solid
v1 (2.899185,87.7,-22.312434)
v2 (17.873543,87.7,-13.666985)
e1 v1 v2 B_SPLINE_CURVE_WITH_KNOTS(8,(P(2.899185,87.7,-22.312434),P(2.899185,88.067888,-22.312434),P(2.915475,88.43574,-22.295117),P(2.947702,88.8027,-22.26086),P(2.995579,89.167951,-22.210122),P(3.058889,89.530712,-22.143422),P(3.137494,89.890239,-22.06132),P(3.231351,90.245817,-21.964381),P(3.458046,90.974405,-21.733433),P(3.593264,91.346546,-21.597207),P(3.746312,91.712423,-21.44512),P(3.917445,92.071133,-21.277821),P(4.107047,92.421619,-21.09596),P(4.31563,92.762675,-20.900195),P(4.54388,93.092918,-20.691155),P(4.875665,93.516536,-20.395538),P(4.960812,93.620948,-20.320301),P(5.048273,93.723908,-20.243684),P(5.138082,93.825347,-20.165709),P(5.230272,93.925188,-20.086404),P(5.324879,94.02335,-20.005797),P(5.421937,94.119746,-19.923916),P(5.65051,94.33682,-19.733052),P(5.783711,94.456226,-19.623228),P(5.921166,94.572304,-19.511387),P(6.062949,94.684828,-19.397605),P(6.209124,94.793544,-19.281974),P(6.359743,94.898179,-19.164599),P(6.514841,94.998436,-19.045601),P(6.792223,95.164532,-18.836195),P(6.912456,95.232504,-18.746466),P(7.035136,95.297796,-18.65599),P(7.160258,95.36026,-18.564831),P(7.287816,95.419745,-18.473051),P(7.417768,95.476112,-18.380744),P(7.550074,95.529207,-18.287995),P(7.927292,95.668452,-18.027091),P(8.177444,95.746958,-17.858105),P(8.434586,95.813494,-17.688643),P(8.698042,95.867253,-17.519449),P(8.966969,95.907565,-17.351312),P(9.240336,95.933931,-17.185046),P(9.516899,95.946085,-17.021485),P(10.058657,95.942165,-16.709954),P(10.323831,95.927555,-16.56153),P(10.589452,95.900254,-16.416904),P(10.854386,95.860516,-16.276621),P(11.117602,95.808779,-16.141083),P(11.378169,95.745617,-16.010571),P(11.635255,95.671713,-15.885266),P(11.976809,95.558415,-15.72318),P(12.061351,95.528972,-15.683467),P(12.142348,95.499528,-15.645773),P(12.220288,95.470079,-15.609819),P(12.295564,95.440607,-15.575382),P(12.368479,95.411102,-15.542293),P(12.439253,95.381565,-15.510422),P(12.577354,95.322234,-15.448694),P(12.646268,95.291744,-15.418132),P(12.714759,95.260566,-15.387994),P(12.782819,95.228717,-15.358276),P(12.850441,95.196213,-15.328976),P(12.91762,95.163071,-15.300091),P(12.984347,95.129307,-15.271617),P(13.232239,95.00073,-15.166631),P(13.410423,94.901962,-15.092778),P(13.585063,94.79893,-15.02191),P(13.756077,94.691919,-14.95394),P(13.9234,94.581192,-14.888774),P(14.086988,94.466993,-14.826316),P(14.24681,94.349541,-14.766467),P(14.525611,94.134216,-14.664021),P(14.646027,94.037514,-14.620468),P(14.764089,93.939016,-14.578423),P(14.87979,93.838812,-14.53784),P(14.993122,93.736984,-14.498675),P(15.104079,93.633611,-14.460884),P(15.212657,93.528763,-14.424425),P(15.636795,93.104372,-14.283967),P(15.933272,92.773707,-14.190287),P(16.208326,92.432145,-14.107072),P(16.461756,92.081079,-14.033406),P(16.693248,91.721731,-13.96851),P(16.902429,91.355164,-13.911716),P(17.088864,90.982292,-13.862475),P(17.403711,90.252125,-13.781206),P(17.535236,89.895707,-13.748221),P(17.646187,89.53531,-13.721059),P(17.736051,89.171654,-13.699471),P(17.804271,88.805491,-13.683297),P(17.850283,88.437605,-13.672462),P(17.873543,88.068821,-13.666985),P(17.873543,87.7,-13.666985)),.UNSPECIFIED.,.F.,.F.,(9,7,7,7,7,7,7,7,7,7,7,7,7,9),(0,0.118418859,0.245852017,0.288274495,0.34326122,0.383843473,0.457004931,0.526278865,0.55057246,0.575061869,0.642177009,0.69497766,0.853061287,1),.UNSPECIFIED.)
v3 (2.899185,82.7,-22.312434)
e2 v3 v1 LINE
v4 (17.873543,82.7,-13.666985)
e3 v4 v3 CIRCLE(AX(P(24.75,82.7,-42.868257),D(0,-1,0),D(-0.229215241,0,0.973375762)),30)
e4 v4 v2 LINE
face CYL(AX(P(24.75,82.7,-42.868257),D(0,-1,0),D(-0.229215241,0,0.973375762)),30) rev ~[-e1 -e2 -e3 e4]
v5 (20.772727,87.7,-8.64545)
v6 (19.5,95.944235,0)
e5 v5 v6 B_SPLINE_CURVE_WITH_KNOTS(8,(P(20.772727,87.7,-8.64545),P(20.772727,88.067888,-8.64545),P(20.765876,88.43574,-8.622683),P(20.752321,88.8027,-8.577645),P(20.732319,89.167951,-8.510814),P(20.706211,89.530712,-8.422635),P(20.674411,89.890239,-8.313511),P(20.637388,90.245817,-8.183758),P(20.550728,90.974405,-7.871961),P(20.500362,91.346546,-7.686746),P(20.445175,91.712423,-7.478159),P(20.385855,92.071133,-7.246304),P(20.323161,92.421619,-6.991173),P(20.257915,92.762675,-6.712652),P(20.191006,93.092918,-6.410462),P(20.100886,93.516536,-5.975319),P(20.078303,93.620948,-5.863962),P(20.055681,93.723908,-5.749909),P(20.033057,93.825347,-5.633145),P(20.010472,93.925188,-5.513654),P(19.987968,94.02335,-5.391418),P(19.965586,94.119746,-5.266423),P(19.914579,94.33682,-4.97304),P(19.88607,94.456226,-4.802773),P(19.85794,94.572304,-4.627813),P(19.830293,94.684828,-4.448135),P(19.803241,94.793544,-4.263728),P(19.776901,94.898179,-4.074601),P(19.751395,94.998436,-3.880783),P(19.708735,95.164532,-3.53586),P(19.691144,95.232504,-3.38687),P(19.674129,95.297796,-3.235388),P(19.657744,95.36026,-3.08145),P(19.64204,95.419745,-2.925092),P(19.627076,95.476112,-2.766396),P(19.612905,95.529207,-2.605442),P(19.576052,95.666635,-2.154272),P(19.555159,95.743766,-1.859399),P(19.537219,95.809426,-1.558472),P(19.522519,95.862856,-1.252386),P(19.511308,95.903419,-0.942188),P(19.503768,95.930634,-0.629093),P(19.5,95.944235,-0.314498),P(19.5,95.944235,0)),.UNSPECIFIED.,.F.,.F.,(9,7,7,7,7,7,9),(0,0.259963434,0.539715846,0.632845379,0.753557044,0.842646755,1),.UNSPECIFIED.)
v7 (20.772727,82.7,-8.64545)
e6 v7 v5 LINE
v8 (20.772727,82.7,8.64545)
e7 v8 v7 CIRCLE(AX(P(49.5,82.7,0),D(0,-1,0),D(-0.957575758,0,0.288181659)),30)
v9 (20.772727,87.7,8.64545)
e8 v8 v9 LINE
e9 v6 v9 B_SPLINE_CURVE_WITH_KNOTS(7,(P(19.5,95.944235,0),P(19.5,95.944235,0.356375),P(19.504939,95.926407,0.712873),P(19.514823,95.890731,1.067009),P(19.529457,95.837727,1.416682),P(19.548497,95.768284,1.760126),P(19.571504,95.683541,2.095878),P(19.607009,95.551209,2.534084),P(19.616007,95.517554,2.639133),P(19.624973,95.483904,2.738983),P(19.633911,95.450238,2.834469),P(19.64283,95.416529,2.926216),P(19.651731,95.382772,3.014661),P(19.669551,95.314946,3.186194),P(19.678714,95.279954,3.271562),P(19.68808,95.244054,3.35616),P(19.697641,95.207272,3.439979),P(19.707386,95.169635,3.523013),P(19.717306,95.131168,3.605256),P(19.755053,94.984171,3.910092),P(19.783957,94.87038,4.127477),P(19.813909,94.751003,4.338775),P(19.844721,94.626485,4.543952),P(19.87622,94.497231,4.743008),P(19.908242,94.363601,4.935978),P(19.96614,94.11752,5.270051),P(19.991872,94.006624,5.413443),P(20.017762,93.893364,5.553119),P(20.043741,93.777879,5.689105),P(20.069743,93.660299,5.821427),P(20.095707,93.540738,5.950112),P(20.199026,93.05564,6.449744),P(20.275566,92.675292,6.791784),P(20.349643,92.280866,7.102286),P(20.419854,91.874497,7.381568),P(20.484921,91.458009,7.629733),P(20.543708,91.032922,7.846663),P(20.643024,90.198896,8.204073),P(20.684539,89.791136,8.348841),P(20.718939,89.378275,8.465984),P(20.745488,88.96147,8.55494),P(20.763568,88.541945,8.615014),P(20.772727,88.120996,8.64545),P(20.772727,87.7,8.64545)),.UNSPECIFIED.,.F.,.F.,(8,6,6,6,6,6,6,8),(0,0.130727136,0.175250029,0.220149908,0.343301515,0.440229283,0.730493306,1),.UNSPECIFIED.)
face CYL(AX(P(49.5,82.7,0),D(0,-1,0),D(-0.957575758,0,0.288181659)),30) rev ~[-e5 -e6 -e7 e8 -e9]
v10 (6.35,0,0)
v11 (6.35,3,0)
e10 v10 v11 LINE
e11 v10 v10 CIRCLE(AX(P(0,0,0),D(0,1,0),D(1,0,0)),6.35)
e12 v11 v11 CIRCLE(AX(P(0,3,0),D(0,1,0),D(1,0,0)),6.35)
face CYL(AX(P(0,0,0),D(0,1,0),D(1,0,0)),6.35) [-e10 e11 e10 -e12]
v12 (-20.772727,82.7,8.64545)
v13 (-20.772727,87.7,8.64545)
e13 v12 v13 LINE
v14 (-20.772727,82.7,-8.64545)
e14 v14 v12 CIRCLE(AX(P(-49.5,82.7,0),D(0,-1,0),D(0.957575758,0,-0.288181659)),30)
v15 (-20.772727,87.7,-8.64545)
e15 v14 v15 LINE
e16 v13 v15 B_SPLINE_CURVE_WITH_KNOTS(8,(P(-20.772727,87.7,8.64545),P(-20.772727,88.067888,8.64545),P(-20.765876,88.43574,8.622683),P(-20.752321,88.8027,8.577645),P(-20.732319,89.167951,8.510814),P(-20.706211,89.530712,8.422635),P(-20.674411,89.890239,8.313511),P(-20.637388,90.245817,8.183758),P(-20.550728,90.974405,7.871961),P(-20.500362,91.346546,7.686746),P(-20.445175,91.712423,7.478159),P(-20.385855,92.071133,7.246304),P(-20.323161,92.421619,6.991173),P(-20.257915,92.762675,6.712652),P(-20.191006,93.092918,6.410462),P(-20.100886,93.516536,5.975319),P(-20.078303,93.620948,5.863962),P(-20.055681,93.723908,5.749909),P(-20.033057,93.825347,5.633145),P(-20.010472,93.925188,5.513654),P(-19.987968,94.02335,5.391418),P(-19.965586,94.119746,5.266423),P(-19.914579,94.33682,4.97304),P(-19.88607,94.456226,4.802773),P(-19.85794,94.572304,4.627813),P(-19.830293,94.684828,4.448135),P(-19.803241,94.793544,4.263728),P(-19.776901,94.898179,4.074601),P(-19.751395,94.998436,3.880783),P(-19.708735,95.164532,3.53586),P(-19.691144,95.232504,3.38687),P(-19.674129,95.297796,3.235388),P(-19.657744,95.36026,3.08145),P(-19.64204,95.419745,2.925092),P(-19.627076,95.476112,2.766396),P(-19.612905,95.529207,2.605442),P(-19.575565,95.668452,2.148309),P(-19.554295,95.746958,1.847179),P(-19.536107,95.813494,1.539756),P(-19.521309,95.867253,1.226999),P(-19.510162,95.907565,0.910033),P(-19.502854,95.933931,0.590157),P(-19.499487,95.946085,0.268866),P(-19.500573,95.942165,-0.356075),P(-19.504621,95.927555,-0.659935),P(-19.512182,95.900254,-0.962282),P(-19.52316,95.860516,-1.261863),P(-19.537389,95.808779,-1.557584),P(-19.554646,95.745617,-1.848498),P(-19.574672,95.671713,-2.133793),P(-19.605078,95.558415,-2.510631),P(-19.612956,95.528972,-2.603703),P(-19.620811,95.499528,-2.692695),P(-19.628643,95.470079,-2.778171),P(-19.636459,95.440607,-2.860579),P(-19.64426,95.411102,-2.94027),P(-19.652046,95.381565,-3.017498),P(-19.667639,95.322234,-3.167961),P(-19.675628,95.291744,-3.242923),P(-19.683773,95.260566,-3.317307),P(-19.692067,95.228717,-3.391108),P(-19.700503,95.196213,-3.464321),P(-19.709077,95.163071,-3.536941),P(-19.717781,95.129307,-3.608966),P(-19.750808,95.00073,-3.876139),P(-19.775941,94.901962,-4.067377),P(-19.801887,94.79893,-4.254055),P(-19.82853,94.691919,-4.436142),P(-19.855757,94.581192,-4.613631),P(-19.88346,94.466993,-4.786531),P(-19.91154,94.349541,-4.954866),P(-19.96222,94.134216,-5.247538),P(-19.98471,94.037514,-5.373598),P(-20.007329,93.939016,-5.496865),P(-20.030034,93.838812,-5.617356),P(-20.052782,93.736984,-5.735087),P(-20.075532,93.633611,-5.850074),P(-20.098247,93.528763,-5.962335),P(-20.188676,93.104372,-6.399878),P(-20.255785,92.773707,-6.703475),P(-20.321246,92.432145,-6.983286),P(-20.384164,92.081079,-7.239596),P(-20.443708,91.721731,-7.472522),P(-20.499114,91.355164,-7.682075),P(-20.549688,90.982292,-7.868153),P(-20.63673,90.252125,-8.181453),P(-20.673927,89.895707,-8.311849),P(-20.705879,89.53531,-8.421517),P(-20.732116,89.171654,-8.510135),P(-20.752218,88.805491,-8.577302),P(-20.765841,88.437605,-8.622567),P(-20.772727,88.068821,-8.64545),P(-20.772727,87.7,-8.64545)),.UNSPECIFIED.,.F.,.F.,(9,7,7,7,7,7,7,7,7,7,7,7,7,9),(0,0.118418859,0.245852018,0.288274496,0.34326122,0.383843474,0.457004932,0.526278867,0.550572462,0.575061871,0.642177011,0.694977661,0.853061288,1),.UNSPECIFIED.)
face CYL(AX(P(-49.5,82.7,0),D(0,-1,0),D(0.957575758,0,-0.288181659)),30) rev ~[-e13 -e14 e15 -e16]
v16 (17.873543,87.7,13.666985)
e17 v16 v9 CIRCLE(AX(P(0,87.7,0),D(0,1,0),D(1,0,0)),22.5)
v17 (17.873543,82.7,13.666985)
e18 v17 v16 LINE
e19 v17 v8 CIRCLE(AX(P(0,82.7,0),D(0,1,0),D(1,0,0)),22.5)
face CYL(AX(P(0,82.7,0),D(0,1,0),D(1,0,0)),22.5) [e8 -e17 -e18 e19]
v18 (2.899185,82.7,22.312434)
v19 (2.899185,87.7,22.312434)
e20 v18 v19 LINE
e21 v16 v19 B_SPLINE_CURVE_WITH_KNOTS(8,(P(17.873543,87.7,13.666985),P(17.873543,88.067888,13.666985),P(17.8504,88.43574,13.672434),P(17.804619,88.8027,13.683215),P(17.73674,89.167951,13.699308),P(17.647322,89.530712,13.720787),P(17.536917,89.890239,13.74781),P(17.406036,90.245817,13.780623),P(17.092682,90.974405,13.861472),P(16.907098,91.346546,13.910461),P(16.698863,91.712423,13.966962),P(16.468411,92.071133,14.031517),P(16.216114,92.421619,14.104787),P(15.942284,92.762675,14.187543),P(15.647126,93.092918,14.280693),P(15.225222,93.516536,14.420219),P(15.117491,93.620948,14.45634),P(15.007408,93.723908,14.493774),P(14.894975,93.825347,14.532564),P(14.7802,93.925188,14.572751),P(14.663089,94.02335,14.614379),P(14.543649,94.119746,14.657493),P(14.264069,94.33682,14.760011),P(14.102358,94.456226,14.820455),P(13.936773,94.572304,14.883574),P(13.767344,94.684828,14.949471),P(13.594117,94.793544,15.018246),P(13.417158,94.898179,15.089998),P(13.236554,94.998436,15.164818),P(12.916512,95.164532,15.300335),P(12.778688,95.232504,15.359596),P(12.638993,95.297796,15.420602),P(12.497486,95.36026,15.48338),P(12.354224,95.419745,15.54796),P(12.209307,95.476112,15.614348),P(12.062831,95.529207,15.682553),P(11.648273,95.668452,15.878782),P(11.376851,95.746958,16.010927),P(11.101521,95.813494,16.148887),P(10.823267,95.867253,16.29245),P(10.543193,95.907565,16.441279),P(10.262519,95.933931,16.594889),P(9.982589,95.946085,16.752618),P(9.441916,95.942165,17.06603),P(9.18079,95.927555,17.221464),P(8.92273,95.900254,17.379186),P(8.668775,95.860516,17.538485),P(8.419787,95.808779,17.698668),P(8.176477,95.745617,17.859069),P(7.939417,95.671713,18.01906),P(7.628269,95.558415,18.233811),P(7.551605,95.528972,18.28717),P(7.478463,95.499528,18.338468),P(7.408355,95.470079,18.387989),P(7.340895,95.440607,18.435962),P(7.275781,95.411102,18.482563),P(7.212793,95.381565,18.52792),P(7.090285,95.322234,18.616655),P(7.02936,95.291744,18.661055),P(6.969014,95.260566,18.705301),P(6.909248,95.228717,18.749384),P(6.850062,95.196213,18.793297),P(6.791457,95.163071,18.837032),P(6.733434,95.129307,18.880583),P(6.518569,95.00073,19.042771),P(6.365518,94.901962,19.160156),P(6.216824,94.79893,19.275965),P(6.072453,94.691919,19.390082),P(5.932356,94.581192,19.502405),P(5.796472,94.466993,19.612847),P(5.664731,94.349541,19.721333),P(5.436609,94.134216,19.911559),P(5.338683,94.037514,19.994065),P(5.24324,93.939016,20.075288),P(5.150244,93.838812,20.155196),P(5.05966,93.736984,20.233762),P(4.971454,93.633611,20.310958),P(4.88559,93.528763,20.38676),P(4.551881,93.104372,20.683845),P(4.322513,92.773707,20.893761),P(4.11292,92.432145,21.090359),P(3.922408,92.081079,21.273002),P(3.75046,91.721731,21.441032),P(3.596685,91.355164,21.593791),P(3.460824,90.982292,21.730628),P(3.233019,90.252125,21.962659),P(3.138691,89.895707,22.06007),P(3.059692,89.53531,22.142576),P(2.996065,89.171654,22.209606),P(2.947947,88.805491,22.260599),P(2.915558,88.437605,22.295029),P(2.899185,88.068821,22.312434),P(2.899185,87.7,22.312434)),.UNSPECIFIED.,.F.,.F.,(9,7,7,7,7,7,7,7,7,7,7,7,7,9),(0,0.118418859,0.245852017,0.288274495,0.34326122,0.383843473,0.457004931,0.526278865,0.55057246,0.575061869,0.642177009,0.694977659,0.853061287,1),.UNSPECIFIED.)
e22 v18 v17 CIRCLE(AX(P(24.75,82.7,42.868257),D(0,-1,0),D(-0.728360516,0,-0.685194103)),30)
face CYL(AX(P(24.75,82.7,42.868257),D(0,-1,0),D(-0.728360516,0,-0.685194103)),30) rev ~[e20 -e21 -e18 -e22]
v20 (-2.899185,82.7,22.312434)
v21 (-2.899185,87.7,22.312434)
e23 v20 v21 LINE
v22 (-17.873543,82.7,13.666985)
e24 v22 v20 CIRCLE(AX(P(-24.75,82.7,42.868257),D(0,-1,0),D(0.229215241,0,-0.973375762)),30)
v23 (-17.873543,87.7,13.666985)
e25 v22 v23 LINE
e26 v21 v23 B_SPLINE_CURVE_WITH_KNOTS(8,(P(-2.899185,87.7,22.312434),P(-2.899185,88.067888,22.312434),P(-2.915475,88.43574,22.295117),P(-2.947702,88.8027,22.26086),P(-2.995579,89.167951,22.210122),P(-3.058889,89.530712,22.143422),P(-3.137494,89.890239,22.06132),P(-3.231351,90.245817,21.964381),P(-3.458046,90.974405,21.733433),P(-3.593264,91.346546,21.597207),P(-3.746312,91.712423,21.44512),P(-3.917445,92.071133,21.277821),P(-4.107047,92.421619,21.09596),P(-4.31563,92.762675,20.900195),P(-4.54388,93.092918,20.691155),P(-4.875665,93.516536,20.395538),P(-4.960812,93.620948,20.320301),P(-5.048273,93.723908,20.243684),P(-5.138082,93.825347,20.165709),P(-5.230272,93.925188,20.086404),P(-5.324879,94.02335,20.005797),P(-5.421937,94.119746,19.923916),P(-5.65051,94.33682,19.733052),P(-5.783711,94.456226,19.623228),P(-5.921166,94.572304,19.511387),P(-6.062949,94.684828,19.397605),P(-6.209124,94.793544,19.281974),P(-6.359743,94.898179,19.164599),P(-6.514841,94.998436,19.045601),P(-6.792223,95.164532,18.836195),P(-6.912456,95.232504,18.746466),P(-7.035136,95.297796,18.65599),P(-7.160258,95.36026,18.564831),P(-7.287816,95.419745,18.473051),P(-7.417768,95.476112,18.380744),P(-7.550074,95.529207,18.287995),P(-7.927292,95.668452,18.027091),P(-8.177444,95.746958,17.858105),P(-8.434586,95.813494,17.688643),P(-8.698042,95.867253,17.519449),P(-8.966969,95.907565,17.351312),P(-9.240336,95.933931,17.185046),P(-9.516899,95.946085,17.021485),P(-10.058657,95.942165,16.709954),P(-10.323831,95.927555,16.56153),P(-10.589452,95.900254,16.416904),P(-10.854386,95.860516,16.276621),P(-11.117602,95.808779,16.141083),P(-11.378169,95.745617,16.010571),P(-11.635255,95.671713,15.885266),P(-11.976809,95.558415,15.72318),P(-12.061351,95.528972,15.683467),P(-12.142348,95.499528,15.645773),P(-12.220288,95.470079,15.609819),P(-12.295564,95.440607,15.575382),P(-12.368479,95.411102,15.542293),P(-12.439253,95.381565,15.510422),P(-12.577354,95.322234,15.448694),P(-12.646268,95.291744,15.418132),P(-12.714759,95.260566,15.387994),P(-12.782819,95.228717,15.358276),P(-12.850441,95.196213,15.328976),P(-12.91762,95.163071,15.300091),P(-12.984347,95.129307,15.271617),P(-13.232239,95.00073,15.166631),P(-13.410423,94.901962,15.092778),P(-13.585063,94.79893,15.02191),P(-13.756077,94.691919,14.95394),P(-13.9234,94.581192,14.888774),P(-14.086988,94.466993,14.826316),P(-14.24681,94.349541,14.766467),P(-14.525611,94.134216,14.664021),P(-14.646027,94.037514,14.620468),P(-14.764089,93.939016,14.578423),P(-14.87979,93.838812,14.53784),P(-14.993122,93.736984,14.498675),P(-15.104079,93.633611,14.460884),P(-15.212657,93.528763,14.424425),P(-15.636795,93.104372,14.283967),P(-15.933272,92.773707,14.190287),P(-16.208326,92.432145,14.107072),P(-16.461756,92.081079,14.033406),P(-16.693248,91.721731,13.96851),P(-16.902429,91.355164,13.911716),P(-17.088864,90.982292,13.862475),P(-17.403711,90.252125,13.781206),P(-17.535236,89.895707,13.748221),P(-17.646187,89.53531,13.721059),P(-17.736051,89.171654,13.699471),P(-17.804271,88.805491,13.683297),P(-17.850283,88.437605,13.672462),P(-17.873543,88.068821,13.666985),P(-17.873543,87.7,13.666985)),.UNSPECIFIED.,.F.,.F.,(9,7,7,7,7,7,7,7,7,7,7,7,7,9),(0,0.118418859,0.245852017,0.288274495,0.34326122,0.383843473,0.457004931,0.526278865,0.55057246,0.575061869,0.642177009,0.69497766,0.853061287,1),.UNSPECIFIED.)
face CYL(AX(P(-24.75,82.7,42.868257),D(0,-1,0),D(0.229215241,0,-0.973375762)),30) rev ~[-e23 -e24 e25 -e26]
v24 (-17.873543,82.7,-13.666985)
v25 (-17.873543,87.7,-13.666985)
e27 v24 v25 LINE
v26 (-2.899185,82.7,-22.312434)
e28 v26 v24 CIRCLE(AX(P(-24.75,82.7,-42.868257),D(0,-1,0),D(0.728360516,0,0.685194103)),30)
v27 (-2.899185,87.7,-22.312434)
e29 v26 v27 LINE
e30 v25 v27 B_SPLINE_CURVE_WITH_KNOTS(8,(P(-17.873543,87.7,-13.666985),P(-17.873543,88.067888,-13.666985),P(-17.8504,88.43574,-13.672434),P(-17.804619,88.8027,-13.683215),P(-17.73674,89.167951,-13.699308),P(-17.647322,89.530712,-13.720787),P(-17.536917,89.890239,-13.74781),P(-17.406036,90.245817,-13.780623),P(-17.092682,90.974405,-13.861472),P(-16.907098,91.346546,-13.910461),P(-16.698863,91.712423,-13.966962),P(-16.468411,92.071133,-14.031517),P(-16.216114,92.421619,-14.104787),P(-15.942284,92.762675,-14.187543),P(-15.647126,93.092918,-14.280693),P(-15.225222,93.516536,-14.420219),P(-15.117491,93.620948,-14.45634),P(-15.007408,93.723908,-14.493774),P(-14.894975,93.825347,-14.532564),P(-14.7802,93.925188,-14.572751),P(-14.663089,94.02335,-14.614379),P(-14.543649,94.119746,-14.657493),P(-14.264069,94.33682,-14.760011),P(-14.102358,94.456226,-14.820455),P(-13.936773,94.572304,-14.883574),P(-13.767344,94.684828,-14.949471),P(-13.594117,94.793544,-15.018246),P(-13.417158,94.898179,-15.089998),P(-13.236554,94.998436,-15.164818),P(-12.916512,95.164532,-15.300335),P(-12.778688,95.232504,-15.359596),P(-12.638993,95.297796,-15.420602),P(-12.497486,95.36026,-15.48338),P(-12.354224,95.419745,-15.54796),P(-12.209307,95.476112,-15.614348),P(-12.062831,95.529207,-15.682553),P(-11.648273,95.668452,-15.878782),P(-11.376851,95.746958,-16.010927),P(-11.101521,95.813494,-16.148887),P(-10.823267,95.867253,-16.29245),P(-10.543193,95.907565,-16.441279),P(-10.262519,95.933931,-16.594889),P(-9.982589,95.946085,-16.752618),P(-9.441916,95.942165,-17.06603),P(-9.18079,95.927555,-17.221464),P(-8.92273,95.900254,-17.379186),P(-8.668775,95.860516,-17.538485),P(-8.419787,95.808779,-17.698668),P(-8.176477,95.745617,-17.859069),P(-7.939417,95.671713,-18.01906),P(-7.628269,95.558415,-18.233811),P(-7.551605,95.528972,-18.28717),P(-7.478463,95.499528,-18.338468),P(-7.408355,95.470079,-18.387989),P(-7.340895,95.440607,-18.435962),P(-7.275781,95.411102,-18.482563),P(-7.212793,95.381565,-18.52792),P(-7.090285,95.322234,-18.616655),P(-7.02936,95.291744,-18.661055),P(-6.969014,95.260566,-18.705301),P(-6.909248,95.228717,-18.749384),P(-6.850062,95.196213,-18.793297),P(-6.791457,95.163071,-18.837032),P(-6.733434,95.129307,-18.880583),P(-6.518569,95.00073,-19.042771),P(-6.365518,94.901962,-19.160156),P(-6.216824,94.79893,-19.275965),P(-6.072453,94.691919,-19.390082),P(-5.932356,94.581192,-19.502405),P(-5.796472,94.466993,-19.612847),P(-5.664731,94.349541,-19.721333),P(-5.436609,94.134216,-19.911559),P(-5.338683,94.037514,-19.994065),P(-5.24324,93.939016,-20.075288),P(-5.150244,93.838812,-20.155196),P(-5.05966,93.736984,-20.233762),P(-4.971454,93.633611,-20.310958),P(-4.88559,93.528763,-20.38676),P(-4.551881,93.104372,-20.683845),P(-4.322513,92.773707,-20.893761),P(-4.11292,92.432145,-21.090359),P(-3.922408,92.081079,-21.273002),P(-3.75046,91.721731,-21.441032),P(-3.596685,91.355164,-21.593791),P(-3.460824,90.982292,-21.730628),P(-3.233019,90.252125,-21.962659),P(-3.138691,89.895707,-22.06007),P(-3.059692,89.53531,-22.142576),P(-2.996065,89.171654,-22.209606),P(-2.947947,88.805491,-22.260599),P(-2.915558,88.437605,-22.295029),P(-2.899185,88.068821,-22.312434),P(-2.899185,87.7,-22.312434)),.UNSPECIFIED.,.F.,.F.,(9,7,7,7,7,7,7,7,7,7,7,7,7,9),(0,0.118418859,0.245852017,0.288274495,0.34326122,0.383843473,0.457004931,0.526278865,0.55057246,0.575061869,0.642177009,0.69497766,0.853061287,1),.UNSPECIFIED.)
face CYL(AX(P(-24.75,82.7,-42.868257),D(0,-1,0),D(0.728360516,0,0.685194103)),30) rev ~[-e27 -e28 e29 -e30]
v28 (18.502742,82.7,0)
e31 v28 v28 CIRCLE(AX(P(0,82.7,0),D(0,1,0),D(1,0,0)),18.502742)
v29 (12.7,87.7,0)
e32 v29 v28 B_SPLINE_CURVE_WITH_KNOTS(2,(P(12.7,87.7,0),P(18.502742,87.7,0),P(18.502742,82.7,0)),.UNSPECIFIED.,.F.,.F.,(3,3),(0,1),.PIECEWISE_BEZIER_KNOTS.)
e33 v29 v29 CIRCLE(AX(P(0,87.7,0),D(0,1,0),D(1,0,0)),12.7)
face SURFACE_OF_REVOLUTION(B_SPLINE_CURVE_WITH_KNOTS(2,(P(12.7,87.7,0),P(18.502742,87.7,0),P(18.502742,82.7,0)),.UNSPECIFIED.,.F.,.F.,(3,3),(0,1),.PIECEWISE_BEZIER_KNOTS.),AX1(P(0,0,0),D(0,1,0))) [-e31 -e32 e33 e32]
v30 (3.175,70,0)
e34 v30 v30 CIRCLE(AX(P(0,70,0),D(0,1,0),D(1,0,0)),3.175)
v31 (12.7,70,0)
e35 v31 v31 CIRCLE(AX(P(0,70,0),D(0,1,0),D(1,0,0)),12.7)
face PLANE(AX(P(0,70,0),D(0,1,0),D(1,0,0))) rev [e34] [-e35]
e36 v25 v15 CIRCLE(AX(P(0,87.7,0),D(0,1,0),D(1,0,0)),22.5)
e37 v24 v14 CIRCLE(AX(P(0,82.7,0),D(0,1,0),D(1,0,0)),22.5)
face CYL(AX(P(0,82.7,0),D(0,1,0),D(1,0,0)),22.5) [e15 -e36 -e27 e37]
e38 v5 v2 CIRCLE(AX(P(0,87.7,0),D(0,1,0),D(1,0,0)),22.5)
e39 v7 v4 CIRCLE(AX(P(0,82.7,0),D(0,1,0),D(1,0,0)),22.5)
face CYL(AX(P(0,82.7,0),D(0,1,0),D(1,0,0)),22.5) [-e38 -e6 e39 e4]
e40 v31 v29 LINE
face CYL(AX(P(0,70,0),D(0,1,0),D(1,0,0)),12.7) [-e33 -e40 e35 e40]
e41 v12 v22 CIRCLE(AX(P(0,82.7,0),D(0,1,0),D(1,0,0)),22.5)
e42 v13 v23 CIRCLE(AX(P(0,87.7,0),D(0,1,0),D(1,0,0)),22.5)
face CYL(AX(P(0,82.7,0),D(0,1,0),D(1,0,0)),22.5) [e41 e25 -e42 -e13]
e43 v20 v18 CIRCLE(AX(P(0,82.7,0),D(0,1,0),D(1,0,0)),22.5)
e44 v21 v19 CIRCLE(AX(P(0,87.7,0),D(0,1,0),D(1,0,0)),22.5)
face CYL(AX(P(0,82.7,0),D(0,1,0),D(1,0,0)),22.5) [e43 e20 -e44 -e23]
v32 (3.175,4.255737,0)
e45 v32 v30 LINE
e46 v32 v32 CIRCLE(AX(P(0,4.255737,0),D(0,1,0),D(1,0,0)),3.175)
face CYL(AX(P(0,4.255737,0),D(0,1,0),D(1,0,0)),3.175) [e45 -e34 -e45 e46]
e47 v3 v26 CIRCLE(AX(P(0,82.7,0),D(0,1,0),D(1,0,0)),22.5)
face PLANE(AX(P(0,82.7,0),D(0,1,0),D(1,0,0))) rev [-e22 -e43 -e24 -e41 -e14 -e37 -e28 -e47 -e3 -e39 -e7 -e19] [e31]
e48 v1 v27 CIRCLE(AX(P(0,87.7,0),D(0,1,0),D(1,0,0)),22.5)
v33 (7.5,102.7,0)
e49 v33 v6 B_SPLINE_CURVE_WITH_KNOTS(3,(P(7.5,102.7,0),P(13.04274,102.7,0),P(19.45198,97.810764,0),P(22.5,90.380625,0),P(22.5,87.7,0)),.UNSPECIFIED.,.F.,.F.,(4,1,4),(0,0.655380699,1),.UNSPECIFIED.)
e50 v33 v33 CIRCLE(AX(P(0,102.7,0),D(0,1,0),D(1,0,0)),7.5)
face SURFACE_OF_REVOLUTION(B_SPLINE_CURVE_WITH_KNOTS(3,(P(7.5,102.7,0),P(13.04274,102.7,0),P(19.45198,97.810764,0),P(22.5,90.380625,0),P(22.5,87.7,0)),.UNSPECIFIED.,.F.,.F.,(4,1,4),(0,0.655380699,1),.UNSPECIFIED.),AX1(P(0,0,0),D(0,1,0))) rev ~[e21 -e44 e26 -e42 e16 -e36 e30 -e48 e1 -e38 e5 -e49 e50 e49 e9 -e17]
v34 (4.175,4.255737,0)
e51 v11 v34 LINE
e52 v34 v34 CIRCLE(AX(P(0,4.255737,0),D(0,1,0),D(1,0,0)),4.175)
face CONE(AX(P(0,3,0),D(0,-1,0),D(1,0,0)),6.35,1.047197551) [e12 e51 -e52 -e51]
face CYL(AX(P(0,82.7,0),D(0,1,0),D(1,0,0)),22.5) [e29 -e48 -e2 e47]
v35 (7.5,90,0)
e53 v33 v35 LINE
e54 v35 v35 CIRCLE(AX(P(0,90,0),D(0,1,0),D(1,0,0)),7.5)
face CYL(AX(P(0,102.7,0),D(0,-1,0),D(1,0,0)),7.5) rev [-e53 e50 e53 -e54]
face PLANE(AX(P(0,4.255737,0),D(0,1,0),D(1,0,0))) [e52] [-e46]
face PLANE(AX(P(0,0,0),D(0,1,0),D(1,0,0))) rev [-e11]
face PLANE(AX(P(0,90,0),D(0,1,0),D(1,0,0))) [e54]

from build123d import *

# Parameters (mm, degrees)
CORTAR_EXTRUIR1_DEPTH = 89.610326763


with BuildPart() as part:
    # Croquis2 → Revolución1 (revolve)
    with BuildSketch(Plane.XY):
        with BuildLine():
            Line((3.175, 70), (12.7, 70))
            Line((12.7, 70), (12.7, 87.7))
            add(Edge.make_bspline(
                [(12.7, 87.7), (18.502741551, 87.7), (18.502741551, 82.7)],
                knots=[0, 0, 0, 1, 1, 1], degree=2))
            Line((18.502741551, 82.7), (22.5, 82.7))
            Line((22.5, 82.7), (22.5, 87.7))
            add(Edge.make_bspline(
                [(7.5, 102.7), (13.042740157, 102.7), (19.451979538, 97.810764177), (22.5, 90.380625461), (22.5, 87.7)],
                knots=[0, 0, 0, 0, 0.655380699, 1, 1, 1, 1], degree=3))
            Line((7.5, 102.7), (7.5, 90))
            Line((7.5, 90), (0, 90))
            Line((0, 90), (0, 0))
            Line((0, 0), (6.35, 0))
            Line((6.35, 0), (6.35, 3))
            Line((6.35, 3), (4.175, 4.255736835))
            Line((4.175, 4.255736835), (3.175, 4.255736835))
            Line((3.175, 4.255736835), (3.175, 70))
        make_face()
    revolve(axis=Axis((0, 0, 0), (0, 1, 0)))

    # Croquis3 → Cortar-Extruir1 (cut, through all)
    with BuildSketch(Plane.XZ.offset(-82.7)):
        with BuildLine():
            ThreePointArc((20.772727273, 8.645449766), (19.5, 0), (20.772727273, -8.645449766))
            ThreePointArc((20.772727273, -8.645449766), (22.5, 0), (20.772727273, 8.645449766))
        make_face()
        with BuildLine():
            ThreePointArc((17.873542761, -13.666984641), (9.75, -16.887495374), (2.899184512, -22.312434407))
            ThreePointArc((2.899184512, -22.312434407), (11.25, -19.485571585), (17.873542761, -13.666984641))
        make_face()
        with BuildLine():
            ThreePointArc((-2.899184512, -22.312434407), (-9.75, -16.887495374), (-17.873542761, -13.666984641))
            ThreePointArc((-17.873542761, -13.666984641), (-11.25, -19.485571585), (-2.899184512, -22.312434407))
        make_face()
        with BuildLine():
            ThreePointArc((-20.772727273, -8.645449766), (-19.5, 0), (-20.772727273, 8.645449766))
            ThreePointArc((-20.772727273, 8.645449766), (-22.5, 0), (-20.772727273, -8.645449766))
        make_face()
        with BuildLine():
            ThreePointArc((-17.873542761, 13.666984641), (-9.75, 16.887495374), (-2.899184512, 22.312434407))
            ThreePointArc((-2.899184512, 22.312434407), (-11.25, 19.485571585), (-17.873542761, 13.666984641))
        make_face()
        with BuildLine():
            ThreePointArc((2.899184512, 22.312434407), (9.75, 16.887495374), (17.873542761, 13.666984641))
            ThreePointArc((17.873542761, 13.666984641), (11.25, 19.485571585), (2.899184512, 22.312434407))
        make_face()
    extrude(amount=-CORTAR_EXTRUIR1_DEPTH, mode=Mode.SUBTRACT)


solid = part.part
